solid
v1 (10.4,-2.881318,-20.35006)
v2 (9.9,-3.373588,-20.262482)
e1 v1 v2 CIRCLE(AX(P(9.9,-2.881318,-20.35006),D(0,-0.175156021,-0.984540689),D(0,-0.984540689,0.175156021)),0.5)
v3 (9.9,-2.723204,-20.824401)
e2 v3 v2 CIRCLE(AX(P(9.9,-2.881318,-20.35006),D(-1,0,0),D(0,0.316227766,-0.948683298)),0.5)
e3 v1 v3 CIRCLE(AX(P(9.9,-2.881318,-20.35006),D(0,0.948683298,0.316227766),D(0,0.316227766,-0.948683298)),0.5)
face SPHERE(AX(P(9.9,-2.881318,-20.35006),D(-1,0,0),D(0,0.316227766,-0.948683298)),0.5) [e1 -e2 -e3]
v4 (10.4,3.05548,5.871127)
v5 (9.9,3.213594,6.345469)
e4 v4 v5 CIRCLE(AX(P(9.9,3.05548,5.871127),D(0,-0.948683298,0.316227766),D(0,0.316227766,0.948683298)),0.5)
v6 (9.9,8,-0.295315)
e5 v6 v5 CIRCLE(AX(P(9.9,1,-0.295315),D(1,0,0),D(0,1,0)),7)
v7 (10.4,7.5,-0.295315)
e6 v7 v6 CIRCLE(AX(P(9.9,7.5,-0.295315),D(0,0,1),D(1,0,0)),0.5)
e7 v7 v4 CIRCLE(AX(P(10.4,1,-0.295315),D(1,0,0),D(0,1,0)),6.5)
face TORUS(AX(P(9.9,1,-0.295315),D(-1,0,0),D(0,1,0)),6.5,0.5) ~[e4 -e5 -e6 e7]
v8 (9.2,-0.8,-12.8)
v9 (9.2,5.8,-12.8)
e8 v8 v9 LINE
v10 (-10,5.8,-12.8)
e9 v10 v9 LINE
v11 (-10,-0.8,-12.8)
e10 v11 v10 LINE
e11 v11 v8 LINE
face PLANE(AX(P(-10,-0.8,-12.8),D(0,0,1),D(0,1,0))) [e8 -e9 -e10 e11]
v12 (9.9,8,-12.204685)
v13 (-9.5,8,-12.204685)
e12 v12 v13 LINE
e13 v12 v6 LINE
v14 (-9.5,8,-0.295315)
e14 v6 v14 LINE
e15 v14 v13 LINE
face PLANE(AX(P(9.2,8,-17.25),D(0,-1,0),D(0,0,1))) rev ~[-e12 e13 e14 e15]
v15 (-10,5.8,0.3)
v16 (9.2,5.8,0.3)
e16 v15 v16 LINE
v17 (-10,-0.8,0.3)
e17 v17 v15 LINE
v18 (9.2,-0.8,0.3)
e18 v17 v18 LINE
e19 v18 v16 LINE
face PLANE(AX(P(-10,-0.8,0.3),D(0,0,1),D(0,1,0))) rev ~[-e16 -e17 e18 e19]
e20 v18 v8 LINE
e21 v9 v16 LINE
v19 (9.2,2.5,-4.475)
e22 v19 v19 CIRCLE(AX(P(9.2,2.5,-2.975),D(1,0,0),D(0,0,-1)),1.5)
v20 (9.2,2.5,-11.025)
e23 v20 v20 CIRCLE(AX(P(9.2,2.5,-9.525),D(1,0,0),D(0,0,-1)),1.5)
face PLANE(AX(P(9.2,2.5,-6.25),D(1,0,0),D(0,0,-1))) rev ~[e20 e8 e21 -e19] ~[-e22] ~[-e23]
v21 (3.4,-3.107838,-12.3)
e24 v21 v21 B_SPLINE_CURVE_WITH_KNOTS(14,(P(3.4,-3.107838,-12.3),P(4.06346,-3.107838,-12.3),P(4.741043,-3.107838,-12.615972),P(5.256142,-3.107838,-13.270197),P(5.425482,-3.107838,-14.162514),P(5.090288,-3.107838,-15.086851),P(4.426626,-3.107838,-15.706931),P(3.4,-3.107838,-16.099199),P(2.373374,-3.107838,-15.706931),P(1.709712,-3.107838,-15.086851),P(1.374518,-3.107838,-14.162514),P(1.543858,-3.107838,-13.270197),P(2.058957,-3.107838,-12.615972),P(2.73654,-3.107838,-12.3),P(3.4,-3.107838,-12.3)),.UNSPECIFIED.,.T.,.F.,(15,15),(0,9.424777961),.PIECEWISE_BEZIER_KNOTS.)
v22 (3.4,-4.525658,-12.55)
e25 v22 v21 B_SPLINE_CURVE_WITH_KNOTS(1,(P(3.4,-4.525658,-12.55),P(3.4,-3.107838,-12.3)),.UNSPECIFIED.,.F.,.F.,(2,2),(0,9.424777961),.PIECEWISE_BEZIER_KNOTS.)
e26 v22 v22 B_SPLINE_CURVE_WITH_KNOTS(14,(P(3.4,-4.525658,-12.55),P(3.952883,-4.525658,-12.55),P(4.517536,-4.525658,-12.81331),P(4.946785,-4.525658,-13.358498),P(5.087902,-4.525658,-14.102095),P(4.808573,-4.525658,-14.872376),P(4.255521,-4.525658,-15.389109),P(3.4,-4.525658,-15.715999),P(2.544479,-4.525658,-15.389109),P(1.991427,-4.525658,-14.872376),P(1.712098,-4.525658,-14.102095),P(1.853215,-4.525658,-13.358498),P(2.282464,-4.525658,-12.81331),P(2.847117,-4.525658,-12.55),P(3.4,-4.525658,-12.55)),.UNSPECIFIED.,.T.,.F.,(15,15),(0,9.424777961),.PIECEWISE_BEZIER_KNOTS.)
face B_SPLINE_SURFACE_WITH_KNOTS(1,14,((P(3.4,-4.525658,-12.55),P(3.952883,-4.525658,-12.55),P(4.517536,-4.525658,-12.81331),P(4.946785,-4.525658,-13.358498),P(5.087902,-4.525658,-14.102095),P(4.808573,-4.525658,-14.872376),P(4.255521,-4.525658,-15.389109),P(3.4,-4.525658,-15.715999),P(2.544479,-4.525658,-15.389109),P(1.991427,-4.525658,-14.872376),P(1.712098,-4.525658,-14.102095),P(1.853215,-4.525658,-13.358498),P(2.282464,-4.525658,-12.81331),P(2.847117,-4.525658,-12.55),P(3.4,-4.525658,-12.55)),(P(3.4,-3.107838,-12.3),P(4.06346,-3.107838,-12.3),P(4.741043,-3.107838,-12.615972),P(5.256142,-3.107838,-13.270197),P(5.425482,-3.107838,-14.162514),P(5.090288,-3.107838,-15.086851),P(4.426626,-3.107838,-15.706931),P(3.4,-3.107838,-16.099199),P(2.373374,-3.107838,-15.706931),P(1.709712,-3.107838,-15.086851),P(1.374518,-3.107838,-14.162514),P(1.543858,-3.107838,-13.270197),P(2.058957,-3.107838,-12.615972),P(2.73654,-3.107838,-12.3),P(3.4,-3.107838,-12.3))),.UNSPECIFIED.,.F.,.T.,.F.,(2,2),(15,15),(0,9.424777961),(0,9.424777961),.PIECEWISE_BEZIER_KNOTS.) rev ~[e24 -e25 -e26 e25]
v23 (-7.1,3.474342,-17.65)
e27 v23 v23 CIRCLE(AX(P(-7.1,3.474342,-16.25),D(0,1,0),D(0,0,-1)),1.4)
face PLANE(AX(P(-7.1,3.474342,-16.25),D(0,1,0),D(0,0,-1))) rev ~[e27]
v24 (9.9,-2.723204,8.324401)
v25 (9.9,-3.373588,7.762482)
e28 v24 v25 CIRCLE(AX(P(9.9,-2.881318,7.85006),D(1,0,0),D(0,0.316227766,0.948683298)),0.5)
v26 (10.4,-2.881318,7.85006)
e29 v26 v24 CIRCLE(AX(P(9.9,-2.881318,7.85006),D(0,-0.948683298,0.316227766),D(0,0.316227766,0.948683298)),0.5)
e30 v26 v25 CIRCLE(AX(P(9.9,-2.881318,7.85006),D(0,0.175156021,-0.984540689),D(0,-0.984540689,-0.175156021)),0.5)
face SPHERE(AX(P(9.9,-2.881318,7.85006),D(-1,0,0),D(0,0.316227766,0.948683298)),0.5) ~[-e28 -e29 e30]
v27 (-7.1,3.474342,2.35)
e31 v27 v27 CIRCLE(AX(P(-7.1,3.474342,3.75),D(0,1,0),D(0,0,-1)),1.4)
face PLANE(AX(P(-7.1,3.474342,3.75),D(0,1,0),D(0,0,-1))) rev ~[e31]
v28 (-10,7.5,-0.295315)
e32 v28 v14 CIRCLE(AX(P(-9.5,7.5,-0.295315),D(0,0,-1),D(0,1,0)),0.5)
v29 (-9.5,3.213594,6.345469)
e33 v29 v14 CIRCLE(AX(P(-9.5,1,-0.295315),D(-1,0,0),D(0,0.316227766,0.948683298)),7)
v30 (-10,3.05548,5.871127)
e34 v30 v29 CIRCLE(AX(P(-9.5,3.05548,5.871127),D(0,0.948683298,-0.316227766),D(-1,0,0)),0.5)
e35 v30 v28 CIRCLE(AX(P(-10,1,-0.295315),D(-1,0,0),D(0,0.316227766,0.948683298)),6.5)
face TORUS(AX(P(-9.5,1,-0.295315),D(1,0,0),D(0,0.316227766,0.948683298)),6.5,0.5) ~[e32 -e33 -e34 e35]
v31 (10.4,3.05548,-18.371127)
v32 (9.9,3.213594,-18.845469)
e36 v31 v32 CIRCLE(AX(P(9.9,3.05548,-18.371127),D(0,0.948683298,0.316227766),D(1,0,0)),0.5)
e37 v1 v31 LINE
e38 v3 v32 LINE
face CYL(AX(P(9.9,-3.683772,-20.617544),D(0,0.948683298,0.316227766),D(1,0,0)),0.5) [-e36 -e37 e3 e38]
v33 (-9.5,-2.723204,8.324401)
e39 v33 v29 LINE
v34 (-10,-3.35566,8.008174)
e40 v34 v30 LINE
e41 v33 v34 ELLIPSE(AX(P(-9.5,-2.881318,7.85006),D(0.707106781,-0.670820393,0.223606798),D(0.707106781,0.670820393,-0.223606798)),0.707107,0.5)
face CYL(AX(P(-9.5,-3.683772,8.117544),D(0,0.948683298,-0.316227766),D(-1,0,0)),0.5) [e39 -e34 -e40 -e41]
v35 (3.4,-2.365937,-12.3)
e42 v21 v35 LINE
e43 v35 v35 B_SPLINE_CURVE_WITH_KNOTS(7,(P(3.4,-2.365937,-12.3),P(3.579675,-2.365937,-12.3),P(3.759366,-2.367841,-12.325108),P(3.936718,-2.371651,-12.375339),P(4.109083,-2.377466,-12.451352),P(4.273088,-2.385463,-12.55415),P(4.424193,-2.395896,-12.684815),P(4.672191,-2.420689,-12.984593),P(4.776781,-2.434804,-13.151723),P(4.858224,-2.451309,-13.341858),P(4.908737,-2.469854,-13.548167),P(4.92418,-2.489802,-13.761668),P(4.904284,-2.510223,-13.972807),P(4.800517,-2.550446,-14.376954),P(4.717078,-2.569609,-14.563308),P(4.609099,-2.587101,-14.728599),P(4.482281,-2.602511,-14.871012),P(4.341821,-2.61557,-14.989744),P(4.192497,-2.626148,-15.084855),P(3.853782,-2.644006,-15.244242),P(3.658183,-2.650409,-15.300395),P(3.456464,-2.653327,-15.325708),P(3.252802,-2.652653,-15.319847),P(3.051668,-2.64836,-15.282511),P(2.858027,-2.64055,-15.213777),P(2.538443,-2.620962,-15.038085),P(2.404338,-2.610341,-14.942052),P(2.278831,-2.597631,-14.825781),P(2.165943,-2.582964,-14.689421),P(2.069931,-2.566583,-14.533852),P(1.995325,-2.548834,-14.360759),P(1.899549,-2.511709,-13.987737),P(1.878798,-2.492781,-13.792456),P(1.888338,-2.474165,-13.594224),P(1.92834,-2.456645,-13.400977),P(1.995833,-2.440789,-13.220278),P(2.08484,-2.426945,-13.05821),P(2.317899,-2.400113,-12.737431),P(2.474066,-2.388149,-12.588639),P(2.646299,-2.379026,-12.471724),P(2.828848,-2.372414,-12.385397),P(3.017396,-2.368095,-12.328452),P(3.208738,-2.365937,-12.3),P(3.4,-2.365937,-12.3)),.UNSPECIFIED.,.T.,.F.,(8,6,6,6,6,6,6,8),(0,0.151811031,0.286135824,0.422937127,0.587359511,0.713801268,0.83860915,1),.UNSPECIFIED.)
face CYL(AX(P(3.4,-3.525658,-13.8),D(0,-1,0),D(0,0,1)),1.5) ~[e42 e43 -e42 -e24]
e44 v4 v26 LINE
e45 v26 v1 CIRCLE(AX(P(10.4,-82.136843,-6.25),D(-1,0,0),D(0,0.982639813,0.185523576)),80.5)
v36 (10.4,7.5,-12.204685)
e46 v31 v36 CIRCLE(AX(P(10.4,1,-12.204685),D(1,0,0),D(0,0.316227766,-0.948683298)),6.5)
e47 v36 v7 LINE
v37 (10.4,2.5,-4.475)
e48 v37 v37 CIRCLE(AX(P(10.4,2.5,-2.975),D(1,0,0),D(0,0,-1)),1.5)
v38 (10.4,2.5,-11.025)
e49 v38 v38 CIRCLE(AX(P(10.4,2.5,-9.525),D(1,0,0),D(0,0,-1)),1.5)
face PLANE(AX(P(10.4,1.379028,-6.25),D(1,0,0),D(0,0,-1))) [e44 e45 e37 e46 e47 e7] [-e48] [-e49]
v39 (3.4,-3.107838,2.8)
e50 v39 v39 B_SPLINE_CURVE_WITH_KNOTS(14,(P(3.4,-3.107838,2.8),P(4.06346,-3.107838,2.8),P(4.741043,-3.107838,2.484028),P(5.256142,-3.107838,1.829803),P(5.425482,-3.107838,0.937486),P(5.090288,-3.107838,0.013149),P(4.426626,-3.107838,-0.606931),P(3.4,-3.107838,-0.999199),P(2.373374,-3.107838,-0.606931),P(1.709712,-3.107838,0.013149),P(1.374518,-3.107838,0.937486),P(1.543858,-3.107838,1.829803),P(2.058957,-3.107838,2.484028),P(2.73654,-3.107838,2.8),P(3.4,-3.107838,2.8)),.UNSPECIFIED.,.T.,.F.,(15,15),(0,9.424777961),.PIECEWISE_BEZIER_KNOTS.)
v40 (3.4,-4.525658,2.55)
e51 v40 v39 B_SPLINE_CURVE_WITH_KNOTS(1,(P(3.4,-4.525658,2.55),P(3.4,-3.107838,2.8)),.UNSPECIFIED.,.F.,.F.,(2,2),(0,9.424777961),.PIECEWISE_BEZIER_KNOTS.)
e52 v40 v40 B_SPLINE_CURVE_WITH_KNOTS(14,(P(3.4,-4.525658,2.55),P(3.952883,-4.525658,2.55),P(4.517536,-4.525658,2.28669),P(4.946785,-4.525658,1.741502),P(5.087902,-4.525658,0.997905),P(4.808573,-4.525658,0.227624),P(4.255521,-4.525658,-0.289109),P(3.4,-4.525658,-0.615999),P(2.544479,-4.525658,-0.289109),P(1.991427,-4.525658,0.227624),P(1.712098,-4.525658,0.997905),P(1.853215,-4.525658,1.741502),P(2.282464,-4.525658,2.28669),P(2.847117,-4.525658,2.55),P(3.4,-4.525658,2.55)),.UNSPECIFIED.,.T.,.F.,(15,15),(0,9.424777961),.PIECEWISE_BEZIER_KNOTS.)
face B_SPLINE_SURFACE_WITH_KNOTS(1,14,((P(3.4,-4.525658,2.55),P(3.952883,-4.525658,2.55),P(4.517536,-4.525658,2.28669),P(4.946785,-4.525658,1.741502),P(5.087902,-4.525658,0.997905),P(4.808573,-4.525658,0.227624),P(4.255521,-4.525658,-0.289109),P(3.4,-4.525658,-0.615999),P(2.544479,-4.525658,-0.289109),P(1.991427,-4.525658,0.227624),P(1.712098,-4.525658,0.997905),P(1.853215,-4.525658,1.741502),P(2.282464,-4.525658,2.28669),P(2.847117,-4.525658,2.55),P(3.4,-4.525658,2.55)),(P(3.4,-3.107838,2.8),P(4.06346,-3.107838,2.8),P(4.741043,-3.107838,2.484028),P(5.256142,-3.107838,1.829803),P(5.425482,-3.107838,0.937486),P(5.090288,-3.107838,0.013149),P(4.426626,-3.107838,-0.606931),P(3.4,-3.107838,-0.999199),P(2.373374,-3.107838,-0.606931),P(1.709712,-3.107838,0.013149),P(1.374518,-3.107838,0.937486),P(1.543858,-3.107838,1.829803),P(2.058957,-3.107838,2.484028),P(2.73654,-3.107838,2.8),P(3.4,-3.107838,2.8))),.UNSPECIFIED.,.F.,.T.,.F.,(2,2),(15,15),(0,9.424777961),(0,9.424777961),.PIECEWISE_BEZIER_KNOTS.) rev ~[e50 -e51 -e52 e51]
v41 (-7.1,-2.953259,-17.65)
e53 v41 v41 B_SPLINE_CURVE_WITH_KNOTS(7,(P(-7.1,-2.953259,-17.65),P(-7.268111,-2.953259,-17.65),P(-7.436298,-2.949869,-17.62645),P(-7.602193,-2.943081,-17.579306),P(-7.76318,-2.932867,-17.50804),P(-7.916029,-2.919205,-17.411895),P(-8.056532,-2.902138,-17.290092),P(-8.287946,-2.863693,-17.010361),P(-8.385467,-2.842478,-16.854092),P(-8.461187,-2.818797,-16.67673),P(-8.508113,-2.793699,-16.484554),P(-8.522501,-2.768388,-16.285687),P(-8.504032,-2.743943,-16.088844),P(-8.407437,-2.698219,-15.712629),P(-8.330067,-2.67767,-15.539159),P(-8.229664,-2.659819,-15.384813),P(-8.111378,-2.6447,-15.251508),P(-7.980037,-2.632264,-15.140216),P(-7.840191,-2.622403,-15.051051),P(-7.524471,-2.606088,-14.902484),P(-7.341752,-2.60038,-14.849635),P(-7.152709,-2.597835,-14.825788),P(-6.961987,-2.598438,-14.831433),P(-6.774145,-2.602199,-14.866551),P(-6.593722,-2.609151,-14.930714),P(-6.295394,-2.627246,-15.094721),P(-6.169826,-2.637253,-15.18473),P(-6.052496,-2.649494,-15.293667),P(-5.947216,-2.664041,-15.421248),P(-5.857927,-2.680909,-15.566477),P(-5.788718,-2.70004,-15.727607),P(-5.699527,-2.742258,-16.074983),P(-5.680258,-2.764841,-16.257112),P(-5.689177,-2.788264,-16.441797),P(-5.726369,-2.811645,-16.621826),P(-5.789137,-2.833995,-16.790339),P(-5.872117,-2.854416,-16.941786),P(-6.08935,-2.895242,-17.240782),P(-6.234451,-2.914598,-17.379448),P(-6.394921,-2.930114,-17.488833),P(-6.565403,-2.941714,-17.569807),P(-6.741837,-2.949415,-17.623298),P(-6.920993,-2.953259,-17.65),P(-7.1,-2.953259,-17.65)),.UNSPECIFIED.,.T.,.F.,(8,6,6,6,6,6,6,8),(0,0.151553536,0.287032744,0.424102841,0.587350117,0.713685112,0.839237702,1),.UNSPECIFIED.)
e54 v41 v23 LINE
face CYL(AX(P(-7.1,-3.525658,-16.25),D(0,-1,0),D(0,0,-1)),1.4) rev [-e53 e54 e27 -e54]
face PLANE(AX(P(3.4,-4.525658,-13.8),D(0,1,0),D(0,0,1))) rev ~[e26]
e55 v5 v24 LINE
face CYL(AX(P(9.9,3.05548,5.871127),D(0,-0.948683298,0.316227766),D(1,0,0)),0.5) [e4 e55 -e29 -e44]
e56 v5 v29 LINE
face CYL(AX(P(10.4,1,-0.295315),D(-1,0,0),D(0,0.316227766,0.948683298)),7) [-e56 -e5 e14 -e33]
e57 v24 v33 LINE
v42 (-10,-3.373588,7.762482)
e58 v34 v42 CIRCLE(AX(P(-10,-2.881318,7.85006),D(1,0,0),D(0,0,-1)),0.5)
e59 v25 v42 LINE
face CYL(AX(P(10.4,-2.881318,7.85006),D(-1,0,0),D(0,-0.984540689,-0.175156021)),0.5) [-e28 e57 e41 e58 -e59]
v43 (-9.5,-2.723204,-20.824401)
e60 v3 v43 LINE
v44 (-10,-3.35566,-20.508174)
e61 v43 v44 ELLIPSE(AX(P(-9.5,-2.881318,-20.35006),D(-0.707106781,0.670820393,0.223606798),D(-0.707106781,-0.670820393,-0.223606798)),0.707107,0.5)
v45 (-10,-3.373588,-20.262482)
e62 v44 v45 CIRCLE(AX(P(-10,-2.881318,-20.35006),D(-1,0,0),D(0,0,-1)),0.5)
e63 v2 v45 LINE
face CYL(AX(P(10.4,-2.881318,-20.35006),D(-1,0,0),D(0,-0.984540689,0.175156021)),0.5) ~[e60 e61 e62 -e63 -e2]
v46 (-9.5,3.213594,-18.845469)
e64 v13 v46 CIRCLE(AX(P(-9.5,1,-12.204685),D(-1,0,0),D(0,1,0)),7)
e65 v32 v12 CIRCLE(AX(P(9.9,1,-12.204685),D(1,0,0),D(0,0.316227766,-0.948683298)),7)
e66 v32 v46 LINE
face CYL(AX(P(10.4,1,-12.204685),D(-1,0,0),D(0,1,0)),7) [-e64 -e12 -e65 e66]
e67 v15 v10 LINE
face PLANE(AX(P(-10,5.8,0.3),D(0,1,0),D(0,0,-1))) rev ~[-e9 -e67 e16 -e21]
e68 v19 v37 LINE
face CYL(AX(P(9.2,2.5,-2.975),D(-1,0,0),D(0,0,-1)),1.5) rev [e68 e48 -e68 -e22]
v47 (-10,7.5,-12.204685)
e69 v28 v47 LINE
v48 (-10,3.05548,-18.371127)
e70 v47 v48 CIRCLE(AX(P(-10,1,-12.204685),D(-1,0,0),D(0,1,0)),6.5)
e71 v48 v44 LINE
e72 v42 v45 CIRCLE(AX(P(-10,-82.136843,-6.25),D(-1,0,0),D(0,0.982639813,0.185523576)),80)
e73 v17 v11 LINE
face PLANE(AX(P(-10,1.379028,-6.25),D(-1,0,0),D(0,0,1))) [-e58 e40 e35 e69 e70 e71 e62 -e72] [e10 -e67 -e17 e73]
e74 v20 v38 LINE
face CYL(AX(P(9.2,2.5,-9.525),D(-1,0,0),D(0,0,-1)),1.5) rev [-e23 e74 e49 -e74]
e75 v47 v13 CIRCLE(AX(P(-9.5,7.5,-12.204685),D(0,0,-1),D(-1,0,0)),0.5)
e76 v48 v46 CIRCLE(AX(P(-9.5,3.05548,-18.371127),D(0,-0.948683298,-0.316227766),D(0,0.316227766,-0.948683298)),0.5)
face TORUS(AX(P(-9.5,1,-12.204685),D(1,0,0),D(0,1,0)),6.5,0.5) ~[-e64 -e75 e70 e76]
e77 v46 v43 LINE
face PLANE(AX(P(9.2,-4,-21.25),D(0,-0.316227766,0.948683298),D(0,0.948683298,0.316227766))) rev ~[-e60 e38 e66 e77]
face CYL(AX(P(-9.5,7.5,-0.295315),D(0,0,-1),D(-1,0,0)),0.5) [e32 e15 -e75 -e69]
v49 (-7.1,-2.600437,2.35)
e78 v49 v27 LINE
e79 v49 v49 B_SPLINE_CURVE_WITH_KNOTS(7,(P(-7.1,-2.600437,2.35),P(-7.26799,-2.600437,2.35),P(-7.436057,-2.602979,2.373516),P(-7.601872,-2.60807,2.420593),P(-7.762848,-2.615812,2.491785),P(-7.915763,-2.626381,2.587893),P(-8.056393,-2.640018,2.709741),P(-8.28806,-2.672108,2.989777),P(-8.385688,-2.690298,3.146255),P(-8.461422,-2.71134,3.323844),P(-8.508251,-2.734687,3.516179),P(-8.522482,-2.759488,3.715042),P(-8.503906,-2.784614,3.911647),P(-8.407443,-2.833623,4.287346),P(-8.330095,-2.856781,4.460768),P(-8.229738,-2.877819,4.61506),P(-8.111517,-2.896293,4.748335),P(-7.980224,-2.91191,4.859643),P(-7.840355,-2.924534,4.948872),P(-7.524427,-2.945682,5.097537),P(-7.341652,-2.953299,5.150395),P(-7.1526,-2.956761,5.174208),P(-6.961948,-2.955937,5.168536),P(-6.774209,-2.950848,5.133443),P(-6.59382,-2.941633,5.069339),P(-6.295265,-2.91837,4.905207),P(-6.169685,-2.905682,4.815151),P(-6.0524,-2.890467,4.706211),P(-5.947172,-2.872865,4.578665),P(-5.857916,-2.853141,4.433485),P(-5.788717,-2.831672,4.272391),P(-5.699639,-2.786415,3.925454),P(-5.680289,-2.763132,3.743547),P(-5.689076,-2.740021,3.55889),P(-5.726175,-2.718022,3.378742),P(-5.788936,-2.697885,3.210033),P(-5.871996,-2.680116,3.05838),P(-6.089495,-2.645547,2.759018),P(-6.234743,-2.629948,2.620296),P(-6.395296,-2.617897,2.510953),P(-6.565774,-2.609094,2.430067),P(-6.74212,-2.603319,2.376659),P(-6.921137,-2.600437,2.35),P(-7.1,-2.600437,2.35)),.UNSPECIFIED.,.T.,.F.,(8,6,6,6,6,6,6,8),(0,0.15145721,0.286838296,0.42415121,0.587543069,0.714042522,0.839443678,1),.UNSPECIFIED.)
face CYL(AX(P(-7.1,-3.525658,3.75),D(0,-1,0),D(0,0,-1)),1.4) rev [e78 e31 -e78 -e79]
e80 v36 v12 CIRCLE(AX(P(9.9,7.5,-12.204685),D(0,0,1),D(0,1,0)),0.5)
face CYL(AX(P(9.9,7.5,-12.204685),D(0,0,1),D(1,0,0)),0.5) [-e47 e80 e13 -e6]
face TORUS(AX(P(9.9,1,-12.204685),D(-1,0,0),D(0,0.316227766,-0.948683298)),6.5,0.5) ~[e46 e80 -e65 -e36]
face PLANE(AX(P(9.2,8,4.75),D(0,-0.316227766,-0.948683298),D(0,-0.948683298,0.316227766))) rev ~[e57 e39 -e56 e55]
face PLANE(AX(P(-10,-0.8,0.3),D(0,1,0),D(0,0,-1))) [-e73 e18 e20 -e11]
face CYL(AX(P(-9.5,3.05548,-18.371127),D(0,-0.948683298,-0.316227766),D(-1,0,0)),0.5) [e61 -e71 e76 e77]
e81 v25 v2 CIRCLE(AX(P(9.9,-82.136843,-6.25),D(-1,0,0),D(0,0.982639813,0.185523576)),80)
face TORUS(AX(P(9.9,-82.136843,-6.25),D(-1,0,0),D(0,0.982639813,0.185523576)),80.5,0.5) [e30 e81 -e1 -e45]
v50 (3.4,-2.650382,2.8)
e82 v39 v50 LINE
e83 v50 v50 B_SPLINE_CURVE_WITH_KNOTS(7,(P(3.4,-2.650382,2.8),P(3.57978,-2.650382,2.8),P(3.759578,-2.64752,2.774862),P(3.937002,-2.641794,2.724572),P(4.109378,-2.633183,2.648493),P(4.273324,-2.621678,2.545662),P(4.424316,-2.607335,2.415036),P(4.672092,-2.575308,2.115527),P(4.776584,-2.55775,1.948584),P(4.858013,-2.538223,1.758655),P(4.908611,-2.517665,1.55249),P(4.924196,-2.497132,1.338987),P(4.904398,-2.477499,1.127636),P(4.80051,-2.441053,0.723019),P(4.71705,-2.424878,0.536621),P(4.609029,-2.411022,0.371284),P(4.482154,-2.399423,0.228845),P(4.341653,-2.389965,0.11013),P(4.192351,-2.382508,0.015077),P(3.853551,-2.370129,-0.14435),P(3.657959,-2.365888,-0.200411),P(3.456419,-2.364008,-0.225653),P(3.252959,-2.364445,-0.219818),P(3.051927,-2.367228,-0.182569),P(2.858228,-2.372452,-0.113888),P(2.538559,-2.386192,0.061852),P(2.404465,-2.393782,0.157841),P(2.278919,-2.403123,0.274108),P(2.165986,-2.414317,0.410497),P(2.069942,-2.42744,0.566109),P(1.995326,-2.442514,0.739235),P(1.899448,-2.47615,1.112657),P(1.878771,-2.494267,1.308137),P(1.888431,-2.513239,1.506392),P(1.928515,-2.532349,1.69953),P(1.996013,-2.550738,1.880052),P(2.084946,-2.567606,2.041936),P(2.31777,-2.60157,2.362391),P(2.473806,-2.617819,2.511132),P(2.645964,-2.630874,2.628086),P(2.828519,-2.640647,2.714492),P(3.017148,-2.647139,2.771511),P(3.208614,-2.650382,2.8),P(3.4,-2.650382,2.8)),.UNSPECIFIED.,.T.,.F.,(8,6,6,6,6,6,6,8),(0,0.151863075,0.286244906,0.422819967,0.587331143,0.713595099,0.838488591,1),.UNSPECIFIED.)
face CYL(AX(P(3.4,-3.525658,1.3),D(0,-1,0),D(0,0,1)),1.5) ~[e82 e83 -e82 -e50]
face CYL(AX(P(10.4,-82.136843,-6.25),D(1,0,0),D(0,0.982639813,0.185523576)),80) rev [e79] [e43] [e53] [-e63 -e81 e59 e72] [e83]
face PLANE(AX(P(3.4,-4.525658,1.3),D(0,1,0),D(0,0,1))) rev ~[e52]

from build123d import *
from OCP.BRepFilletAPI import BRepFilletAPI_MakeChamfer

# Parameters (mm, degrees)
BOSS_EXTRUDE1_DEPTH             = 9.2
BOSS_EXTRUDE1_DEPTH_BACK        = 10
SKETCH1_W                       = 13.1
SKETCH1_H                       = 6.6
SKETCH2_W                       = 13.1
SKETCH2_H                       = 6.6
SKETCH2_R                       = 1.5
SKETCH2_W_2                     = 6.55
BOSS_EXTRUDE2_DEPTH             = 1.2
CUT_EXTRUDE1_DEPTH              = 20.4
FILLET1_R                       = 7
BOSS_EXTRUDE3_REACH             = 28.189
BOSS_EXTRUDE3_END_RADIUS        = 80
SKETCH4_R                       = 1.5
BOSS_EXTRUDE3_DIRECTION_2_DEPTH = 1
SKETCH5_R                       = 1.4
CUT_EXTRUDE2_DEPTH              = 7
CHAMFER1_SIZE                   = 0.25
CHAMFER1_SIZE2                  = 1.417820455
FILLET2_R                       = 0.5


with BuildPart() as part:
    # Sketch1 → Boss-Extrude1 (new, two sides: drawn at the far end of the back side and taken through both)
    with BuildSketch(Plane(origin=(0, 0, 0), x_dir=(0, 0, -1), z_dir=(1, 0, 0)).offset(-BOSS_EXTRUDE1_DEPTH_BACK)):
        Polygon((-8.75, -4), (-4.75, 8), (17.25, 8), (21.25, -4), align=None)
        with Locations((6.25, 2.5)):
            Rectangle(SKETCH1_W, SKETCH1_H, mode=Mode.SUBTRACT)
    extrude(amount=BOSS_EXTRUDE1_DEPTH + BOSS_EXTRUDE1_DEPTH_BACK)

    # Sketch2 → Boss-Extrude2 (add)
    # profile 1 of 3: a face of its own
    with BuildSketch(Plane(origin=(9.2, 0, 0), x_dir=(0, 0, -1), z_dir=(1, 0, 0))):
        Polygon((-4.75, 8), (-8.75, -4), (21.25, -4), (17.25, 8), align=None)
        with Locations((6.25, 2.5)):
            Rectangle(SKETCH2_W, SKETCH2_H, mode=Mode.SUBTRACT)
    # profile 2 of 3: a face of its own
    with BuildSketch(Plane(origin=(9.2, 0, 0), x_dir=(0, 0, -1), z_dir=(1, 0, 0))):
        with Locations((6.25, 2.5)):
            Rectangle(SKETCH2_W, SKETCH2_H)
        with Locations((2.975, 2.5)):
            Circle(SKETCH2_R, mode=Mode.SUBTRACT)
        with Locations((9.525, 2.5)):
            Circle(SKETCH2_R, mode=Mode.SUBTRACT)
    # profile 3 of 3: a face of its own
    with BuildSketch(Plane(origin=(9.2, 0, 0), x_dir=(0, 0, -1), z_dir=(1, 0, 0))):
        with Locations((9.525, 2.5)):
            Rectangle(SKETCH2_W_2, SKETCH2_H)
        with Locations((9.525, 2.5)):
            Circle(SKETCH2_R, mode=Mode.SUBTRACT)
    extrude(amount=BOSS_EXTRUDE2_DEPTH)

    # Sketch3 → Cut-Extrude1 (cut)
    with BuildSketch(Plane(origin=(10.4, 0, 0), x_dir=(0, 0, -1), z_dir=(1, 0, 0))):
        with BuildLine():
            Line((21.091886117, -3.525658351), (21.25, -4))
            Line((21.25, -4), (-8.75, -4))
            Line((-8.75, -4), (-8.591886117, -3.525658351))
            ThreePointArc((-8.591886117, -3.525658351), (6.25, -2.136843411), (21.091886117, -3.525658351))
        make_face()
    extrude(amount=-CUT_EXTRUDE1_DEPTH, mode=Mode.SUBTRACT)

    # Fillet1
    fillet1_edges = [part.edges().sort_by_distance(p)[0] for p in [
        (0.2, 8, 4.75),
        (0.2, 8, -17.25),
    ]]
    fillet(fillet1_edges, radius=FILLET1_R)

    # Boss-Extrude3: up to this cylinder (the profile starts inside it)
    boss_extrude3_end = Plane(origin=(3.4, -82.136843411, -6.25), z_dir=(1, 0, 0)) * Cylinder(BOSS_EXTRUDE3_END_RADIUS, 217.378, mode=Mode.PRIVATE)
    # Sketch4 → Boss-Extrude3 (add, up to the surface)
    with BuildSketch(Plane(origin=(0, -3.525658351, 0), x_dir=(1, 0, 0), z_dir=(0, 1, 0)), mode=Mode.PRIVATE) as boss_extrude3_sk1:
        with Locations(Location((3.4, 13.8, 0), (0, 0, 270))):
            Circle(SKETCH4_R)
    boss_extrude3_tool1 = extrude(boss_extrude3_sk1.sketch, amount=BOSS_EXTRUDE3_REACH, mode=Mode.PRIVATE) & boss_extrude3_end
    add(boss_extrude3_tool1.solids().sort_by_distance((3.4, -3.525658, -13.8))[0])
    # Sketch4 → Boss-Extrude3 (add, up to the surface)
    with BuildSketch(Plane(origin=(0, -3.525658351, 0), x_dir=(1, 0, 0), z_dir=(0, 1, 0)), mode=Mode.PRIVATE) as boss_extrude3_sk2:
        with Locations(Location((3.4, -1.3, 0), (0, 0, 270))):
            Circle(SKETCH4_R)
    boss_extrude3_tool2 = extrude(boss_extrude3_sk2.sketch, amount=BOSS_EXTRUDE3_REACH, mode=Mode.PRIVATE) & boss_extrude3_end
    add(boss_extrude3_tool2.solids().sort_by_distance((3.4, -3.525658, 1.3))[0])

    # Sketch4 → Boss-Extrude3 direction 2 (add)
    with BuildSketch(Plane(origin=(0, -3.525658351, 0), x_dir=(1, 0, 0), z_dir=(0, 1, 0))):
        with Locations(Location((3.4, 13.8, 0), (0, 0, 270))):
            Circle(SKETCH4_R)
        with Locations(Location((3.4, -1.3, 0), (0, 0, 270))):
            Circle(SKETCH4_R)
    extrude(amount=-BOSS_EXTRUDE3_DIRECTION_2_DEPTH)

    # Sketch5 → Cut-Extrude2 (cut)
    with BuildSketch(Plane(origin=(0, -3.525658351, 0), x_dir=(1, 0, 0), z_dir=(0, 1, 0))):
        with Locations(Location((-7.1, 16.25, 0), (0, 0, 90))):
            Circle(SKETCH5_R)
        with Locations(Location((-7.1, -3.75, 0), (0, 0, 90))):
            Circle(SKETCH5_R)
    extrude(amount=CUT_EXTRUDE2_DEPTH, mode=Mode.SUBTRACT)

    # Chamfer1: one chamfer whose edges measure the first distance from different faces: ONE call of the kernel's chamfer builder (chamfer() names one face for all edges)
    chamfer1_edges_1 = [part.edges().sort_by_distance(p)[0] for p in [
        (3.4, -4.525658351, -0.2),
    ]]
    chamfer1_side_1 = [part.faces().sort_by_distance(p)[0] for p in [
        (3.4, -4.525658351, 1.3),
    ]]
    chamfer1_edges_2 = [part.edges().sort_by_distance(p)[0] for p in [
        (3.4, -4.525658351, -15.3),
    ]]
    chamfer1_side_2 = [part.faces().sort_by_distance(p)[0] for p in [
        (3.4, -4.525658351, -13.8),
    ]]
    chamfer1 = BRepFilletAPI_MakeChamfer(part.part.solid().wrapped)
    for e in chamfer1_edges_1:
        chamfer1.Add(CHAMFER1_SIZE, CHAMFER1_SIZE2, e.wrapped, chamfer1_side_1[0].wrapped)  # the first distance lies on this face
    for e in chamfer1_edges_2:
        chamfer1.Add(CHAMFER1_SIZE, CHAMFER1_SIZE2, e.wrapped, chamfer1_side_2[0].wrapped)  # the first distance lies on this face
    add(Compound.cast(chamfer1.Shape()), mode=Mode.REPLACE)

    # Fillet2
    fillet2_edges = [part.edges().sort_by_distance(p)[0] for p in [
        (10.4, -0.156031994, -19.968677331),
        (-10, -0.156031994, -19.968677331),
        (10.4, -2.136843411, -6.25),
        (0.2, -3.525658351, -21.091886117),
        (0.2, -3.525658351, 8.591886117),
        (10.4, 8, -6.25),
        (10.4, -0.156031994, 7.468677331),
        (10.4, 6.678695296, 3.797657452),
        (10.4, 6.678695296, -16.297657452),
        (-10, 8, -6.25),
        (-10, -0.156031994, 7.468677331),
        (-10, 6.678695296, 3.797657452),
        (-10, 6.678695296, -16.297657452),
    ]]
    fillet(fillet2_edges, radius=FILLET2_R)


solid = part.part
